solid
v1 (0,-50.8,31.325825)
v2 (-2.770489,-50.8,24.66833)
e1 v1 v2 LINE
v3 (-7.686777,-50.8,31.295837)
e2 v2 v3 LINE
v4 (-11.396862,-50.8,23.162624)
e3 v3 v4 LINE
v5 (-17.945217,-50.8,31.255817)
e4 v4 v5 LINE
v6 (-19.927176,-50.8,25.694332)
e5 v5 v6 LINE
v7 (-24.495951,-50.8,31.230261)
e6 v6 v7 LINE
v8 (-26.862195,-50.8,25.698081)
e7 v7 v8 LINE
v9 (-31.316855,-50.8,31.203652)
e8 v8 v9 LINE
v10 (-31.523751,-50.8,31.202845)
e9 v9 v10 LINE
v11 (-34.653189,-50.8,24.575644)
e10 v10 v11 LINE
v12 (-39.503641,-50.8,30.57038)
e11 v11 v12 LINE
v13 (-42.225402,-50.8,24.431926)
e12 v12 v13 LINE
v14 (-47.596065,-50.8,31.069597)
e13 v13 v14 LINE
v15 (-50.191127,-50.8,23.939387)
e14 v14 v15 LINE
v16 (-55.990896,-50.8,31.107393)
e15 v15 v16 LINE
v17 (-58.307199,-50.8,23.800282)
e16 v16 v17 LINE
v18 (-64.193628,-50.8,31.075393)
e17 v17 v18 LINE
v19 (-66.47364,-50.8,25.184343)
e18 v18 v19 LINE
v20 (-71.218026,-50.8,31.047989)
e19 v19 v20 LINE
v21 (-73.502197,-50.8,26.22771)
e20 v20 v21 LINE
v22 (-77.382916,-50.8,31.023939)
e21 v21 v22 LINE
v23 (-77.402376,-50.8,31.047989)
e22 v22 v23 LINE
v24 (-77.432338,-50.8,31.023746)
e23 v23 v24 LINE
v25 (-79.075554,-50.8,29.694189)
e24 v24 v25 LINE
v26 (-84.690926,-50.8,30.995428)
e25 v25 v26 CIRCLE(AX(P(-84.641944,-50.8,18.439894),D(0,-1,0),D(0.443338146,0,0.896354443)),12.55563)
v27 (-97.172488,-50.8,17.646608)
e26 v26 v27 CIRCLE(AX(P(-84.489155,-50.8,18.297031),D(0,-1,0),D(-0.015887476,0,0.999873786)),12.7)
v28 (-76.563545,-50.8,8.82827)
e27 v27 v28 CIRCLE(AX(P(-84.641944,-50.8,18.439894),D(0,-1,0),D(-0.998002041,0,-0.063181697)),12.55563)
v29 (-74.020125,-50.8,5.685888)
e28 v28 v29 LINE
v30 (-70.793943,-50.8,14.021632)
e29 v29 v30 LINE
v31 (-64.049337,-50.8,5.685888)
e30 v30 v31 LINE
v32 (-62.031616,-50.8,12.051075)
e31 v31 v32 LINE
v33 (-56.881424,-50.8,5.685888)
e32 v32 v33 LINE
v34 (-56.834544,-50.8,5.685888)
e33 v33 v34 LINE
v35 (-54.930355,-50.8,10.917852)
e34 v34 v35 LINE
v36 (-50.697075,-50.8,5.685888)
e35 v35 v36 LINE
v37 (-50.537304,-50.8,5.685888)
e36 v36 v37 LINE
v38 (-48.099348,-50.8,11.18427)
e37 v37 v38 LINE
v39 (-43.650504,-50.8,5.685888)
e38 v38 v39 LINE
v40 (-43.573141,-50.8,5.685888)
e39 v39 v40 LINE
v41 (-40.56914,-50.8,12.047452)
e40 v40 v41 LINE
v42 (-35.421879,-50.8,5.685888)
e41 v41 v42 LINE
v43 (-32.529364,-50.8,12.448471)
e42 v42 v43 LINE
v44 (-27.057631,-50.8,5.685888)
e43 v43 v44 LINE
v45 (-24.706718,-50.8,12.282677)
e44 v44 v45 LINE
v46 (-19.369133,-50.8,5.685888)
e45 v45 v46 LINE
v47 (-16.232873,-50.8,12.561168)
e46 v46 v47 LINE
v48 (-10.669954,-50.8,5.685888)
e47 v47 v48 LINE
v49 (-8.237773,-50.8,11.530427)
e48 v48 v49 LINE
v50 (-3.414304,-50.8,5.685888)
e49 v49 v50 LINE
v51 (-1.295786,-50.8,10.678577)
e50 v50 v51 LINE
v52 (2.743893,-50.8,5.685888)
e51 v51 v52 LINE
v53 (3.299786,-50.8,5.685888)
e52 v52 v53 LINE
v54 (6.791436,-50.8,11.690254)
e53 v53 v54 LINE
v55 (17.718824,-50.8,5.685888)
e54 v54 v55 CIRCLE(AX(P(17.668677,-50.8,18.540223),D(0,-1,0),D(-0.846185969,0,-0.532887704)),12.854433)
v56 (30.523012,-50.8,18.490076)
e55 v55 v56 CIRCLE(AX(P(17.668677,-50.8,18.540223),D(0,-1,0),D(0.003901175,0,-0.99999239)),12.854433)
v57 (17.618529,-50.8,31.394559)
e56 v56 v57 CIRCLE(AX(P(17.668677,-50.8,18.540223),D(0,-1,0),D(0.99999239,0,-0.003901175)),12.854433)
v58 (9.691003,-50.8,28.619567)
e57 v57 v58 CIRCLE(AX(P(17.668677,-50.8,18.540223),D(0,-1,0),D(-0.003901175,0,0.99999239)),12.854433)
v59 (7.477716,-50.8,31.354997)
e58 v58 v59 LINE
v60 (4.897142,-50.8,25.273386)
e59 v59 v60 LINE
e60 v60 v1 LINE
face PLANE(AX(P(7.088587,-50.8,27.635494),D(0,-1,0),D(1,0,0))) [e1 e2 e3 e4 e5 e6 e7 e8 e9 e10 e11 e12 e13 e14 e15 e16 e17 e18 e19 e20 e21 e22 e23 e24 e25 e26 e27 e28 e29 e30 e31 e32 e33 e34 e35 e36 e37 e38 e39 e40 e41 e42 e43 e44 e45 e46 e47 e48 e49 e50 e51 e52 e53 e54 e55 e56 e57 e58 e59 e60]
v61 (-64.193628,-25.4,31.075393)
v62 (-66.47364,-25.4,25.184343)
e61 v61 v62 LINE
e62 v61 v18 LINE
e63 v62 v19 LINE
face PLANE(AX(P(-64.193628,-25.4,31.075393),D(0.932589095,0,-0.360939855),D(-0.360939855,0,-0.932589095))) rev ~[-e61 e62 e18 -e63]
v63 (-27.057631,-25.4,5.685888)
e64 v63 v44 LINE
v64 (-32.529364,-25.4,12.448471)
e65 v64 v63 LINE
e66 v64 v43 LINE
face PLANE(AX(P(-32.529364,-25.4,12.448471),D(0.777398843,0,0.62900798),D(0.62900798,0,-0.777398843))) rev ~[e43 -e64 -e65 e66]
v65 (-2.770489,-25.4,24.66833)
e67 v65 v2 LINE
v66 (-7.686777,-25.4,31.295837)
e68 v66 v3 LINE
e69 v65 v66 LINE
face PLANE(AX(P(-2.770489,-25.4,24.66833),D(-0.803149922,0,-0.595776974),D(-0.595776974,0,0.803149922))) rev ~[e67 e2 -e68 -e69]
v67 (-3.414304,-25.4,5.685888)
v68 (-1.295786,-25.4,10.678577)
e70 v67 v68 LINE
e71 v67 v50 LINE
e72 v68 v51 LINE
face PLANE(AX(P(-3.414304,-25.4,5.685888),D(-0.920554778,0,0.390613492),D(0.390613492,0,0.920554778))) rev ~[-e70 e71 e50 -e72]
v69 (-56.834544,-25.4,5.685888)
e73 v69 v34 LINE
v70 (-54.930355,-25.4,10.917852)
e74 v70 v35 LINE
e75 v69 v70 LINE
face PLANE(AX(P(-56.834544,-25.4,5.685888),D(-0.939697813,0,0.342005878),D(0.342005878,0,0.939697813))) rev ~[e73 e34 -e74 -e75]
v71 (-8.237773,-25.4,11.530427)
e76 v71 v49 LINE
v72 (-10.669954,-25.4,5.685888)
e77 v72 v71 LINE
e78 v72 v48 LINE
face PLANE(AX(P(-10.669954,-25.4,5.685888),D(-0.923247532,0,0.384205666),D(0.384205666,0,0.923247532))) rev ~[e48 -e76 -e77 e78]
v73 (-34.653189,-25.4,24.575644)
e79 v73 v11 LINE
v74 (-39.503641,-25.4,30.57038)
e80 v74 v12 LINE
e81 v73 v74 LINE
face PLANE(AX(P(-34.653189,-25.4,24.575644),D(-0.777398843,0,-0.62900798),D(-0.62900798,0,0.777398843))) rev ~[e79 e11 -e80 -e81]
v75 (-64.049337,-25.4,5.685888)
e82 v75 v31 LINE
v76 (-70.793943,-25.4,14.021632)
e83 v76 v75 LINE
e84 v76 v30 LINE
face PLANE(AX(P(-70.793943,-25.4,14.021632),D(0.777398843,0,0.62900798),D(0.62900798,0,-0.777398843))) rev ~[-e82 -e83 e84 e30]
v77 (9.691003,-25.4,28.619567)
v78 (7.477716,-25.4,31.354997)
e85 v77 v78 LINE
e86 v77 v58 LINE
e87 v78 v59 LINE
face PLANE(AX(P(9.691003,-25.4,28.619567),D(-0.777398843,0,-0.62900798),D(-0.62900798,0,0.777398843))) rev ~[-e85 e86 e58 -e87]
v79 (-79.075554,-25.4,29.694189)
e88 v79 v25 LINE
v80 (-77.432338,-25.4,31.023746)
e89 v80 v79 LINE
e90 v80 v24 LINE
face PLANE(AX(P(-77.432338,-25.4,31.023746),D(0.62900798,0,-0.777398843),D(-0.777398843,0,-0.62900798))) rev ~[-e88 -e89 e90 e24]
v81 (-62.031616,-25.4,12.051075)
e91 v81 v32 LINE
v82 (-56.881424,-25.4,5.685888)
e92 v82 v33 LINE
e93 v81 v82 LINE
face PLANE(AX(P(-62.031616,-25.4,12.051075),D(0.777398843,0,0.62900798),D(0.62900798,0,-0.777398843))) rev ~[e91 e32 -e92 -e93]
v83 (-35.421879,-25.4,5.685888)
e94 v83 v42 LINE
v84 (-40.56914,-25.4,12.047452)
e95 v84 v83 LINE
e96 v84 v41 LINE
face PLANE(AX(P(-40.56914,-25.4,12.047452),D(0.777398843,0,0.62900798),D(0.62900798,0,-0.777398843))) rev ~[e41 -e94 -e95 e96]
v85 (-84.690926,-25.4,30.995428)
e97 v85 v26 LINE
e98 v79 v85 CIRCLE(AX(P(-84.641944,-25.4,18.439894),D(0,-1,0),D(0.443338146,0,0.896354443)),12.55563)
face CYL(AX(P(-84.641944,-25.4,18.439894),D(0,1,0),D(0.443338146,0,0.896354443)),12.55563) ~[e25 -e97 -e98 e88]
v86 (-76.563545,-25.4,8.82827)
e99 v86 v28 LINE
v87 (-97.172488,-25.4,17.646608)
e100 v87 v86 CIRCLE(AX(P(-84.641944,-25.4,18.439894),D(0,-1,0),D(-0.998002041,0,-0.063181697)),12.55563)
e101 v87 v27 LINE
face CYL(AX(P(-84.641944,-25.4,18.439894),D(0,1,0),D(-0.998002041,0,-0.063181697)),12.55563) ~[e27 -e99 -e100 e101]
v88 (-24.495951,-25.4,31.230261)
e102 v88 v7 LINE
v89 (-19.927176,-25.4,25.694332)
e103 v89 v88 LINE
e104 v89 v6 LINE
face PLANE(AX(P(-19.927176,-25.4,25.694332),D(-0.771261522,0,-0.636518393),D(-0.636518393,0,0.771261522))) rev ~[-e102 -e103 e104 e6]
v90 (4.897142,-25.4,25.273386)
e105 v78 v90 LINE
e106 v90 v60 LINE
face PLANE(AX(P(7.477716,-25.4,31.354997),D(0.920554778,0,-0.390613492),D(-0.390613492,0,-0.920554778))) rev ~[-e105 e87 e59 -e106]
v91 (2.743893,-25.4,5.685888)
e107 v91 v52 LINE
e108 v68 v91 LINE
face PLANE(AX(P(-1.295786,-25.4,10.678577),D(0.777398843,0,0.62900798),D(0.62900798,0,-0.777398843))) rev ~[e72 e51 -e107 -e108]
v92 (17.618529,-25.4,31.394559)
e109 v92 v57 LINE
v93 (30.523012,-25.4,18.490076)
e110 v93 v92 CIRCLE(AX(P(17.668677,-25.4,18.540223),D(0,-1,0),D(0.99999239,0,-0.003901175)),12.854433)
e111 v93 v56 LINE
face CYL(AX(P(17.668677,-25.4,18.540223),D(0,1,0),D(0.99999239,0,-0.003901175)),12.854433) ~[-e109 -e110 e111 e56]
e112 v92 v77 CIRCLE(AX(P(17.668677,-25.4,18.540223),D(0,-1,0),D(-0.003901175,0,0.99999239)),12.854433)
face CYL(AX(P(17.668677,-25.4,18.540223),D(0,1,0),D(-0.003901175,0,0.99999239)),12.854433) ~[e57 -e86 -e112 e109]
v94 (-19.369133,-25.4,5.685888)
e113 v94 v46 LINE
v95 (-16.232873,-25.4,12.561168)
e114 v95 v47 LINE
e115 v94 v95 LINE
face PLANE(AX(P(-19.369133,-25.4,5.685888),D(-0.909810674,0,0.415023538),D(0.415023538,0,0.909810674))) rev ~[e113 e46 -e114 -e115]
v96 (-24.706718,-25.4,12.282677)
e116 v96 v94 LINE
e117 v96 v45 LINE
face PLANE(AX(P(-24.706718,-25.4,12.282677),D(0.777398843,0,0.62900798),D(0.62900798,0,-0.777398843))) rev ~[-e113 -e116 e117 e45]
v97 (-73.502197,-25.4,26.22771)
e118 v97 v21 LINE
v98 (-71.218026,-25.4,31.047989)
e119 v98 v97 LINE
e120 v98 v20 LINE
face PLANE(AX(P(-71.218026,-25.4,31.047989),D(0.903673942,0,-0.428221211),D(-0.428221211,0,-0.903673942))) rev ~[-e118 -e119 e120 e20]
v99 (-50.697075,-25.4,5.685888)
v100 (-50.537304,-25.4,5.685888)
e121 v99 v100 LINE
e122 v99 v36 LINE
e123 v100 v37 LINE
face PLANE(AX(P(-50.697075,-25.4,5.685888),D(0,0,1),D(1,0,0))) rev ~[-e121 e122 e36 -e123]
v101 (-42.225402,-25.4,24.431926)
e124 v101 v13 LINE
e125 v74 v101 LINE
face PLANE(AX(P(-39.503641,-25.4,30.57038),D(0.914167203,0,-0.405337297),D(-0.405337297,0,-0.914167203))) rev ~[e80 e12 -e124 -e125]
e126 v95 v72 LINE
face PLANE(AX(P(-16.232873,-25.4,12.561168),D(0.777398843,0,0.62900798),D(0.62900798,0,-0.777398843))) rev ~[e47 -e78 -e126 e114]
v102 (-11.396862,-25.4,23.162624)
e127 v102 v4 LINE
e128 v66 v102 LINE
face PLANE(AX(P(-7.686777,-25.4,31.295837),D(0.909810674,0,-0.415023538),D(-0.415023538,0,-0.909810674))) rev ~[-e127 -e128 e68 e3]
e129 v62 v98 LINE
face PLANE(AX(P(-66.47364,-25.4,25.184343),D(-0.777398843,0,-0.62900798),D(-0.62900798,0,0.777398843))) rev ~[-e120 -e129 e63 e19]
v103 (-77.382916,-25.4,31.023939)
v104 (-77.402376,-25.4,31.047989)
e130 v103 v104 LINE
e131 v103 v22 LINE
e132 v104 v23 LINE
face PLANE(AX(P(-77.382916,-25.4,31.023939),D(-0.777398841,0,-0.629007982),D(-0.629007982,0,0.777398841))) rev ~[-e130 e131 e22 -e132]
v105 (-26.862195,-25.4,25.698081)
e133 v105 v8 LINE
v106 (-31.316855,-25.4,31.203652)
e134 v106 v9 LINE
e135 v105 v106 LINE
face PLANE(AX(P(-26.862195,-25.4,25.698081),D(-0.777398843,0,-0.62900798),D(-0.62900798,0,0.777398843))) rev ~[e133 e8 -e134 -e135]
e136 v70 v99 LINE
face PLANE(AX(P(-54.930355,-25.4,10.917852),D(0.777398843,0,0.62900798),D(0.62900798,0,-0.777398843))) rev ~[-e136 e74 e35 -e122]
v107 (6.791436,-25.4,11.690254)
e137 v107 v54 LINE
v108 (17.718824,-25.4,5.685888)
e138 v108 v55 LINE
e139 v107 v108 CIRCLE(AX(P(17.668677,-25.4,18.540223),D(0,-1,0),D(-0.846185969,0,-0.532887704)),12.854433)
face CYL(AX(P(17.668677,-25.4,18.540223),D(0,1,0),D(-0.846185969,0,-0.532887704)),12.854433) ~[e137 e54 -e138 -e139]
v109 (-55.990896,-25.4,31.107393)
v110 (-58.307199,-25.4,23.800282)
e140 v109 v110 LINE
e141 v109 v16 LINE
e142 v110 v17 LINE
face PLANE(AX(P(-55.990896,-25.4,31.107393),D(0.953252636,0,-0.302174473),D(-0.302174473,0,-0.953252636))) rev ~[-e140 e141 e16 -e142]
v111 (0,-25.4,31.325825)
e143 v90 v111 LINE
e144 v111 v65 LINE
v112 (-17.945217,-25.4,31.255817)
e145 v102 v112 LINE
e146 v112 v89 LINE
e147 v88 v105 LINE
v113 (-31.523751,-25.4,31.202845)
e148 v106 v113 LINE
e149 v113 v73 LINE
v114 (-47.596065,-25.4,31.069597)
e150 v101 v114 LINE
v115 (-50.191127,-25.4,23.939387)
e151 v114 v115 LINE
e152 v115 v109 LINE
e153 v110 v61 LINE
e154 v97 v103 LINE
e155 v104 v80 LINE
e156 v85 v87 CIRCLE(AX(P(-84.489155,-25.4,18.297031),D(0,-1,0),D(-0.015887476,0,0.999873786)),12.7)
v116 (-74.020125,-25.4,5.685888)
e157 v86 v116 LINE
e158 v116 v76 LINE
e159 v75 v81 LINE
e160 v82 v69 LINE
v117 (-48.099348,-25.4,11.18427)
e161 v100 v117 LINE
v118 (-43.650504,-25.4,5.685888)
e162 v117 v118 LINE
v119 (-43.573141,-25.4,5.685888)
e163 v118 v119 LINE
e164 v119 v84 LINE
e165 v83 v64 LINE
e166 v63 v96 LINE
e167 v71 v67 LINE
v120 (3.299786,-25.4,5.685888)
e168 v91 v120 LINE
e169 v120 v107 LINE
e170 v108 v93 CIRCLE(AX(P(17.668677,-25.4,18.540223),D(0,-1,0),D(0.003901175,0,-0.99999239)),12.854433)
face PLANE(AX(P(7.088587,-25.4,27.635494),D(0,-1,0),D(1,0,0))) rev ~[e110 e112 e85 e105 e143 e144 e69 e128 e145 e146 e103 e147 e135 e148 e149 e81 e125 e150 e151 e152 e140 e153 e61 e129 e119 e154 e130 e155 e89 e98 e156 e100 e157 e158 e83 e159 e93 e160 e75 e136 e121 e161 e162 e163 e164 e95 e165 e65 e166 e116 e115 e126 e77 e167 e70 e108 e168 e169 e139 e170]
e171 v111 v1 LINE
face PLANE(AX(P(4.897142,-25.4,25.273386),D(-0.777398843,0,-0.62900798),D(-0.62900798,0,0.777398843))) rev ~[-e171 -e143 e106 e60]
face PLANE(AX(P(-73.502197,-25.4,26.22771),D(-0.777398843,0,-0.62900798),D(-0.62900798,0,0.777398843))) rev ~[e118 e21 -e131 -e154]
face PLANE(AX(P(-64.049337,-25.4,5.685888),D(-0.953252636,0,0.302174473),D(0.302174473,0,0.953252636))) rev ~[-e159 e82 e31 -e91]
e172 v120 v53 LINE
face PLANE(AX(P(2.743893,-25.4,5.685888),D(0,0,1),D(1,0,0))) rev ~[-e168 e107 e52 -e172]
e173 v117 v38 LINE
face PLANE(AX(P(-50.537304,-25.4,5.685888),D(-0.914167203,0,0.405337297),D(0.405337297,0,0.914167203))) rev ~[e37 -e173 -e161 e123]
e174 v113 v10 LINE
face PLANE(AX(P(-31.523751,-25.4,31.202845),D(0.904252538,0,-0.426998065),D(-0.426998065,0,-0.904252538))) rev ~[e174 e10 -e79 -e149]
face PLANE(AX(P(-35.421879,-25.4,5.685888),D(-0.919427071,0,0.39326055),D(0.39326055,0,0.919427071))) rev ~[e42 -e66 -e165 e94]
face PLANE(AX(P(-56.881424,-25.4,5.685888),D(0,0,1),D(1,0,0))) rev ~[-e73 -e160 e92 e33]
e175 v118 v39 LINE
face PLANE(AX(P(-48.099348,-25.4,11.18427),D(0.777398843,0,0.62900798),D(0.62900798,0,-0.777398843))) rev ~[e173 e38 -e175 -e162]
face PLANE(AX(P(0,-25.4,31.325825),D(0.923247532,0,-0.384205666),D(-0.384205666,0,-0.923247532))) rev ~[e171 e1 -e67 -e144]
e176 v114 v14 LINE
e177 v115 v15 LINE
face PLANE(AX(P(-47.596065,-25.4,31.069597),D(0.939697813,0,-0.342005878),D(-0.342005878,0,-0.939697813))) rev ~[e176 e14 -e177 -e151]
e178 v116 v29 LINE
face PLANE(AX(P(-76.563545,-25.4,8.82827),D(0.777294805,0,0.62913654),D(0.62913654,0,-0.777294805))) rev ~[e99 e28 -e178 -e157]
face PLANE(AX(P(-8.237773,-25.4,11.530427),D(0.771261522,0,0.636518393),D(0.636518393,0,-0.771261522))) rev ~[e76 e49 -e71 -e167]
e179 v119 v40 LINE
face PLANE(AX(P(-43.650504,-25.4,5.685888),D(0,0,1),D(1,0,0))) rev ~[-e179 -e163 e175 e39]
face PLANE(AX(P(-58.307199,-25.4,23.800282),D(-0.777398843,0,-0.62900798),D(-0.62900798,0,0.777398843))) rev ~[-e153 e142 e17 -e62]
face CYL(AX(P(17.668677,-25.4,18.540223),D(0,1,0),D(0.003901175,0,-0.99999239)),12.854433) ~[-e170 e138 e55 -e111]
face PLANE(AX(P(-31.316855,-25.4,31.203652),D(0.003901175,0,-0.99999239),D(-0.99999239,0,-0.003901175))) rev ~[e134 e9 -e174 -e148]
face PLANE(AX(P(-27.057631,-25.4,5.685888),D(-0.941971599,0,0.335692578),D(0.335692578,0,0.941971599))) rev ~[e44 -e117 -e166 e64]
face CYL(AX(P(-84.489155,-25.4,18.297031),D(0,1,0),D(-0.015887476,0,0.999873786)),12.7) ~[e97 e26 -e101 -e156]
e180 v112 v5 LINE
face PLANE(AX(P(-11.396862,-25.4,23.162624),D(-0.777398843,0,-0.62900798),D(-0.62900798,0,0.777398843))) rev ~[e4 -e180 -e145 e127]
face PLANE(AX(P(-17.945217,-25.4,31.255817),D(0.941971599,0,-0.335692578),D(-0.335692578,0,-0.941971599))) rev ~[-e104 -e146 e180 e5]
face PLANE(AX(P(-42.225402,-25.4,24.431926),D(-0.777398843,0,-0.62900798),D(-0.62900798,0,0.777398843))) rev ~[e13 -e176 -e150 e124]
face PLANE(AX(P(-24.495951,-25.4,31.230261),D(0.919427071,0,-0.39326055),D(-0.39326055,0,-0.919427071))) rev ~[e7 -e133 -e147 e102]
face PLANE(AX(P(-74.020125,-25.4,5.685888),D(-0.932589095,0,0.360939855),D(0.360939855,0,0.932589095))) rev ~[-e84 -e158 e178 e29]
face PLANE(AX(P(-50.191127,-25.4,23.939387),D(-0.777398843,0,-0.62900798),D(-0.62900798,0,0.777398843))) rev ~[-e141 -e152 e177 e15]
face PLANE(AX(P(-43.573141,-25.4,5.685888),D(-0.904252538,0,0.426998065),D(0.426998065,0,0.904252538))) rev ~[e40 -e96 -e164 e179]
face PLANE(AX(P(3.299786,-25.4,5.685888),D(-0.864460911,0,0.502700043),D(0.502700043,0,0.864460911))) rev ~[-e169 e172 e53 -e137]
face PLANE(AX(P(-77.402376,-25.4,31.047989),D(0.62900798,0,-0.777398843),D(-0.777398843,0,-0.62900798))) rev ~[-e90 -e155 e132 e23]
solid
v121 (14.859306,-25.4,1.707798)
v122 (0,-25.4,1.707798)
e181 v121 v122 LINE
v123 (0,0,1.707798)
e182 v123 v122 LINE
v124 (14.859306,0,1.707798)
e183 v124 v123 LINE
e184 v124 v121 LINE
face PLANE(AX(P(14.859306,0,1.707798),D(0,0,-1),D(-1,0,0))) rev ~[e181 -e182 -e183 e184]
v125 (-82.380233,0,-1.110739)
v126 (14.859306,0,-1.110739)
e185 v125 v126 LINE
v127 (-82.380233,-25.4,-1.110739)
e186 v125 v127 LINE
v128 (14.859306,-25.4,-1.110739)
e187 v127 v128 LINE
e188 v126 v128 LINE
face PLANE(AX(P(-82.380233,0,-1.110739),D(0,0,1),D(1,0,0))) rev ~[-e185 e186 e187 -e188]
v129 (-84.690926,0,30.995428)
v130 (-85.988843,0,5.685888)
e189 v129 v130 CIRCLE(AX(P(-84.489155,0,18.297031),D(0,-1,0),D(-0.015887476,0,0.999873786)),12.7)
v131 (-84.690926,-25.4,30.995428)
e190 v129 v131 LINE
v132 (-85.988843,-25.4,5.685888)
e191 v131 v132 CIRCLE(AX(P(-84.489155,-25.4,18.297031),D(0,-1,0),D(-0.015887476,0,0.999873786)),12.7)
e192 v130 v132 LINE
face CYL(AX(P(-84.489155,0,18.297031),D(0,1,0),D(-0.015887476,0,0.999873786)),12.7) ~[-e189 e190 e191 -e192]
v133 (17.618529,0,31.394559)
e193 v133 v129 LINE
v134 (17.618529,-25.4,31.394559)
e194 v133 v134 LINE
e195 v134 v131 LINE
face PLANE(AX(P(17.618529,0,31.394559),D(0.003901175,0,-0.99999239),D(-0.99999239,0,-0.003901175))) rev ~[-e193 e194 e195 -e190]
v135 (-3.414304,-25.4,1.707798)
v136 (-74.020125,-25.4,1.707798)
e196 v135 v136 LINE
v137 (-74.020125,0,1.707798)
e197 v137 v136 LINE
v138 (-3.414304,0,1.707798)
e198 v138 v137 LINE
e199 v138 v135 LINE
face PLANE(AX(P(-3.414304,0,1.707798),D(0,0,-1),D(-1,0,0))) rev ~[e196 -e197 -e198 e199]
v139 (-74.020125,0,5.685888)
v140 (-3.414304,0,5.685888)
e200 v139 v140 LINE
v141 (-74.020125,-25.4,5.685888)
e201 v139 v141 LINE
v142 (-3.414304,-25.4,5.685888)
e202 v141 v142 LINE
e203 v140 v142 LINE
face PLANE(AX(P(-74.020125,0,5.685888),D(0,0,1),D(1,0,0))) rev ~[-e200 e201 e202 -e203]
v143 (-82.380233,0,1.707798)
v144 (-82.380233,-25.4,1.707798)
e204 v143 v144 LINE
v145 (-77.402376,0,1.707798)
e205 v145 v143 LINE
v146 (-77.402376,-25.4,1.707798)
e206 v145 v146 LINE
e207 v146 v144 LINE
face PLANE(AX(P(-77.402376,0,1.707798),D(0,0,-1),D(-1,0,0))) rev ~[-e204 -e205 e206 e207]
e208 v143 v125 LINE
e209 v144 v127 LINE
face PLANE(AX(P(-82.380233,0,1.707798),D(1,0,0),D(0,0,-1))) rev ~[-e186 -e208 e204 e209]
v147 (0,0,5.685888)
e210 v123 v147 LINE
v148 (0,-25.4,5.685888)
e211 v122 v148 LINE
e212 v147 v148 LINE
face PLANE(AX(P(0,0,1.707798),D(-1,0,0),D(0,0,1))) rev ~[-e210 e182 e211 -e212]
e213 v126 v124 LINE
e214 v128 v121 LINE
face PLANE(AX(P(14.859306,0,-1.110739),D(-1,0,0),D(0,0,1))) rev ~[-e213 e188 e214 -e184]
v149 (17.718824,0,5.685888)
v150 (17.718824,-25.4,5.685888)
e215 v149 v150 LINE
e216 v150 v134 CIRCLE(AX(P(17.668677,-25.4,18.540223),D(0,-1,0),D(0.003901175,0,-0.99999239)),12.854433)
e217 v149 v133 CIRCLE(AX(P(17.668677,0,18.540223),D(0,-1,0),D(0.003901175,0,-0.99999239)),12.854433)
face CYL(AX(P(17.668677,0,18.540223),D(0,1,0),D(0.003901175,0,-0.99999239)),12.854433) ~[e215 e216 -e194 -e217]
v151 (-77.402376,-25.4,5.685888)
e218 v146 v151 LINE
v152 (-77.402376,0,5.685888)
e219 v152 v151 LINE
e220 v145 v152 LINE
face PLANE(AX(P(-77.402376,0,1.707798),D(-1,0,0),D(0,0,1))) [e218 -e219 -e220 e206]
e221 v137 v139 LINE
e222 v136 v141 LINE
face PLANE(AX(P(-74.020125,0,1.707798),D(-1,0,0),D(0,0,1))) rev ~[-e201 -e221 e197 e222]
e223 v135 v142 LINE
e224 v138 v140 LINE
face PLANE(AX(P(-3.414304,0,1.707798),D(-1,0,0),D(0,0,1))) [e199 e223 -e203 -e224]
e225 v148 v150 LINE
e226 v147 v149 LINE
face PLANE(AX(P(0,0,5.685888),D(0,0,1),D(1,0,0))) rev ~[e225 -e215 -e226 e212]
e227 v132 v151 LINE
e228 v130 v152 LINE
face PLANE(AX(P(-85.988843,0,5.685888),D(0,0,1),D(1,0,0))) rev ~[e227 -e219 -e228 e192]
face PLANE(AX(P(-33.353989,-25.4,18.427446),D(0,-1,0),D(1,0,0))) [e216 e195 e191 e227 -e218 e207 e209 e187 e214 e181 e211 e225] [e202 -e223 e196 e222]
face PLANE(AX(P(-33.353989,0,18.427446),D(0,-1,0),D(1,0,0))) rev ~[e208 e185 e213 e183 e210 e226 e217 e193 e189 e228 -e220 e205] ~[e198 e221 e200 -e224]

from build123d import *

# Parameters (mm, degrees)
F0_W     = 3.3822506666
F0_H     = 3.9780900193
F0_W_2   = 3.41430353
F1_DEPTH = 25.4
F3_DEPTH = 25.4


with BuildPart() as f1:
    # F0 (on Front) → F1 (new body)
    with BuildSketch(Plane.XZ):
        with BuildLine():
            Line((17.6185293709, 31.3945586435), (-84.690925819, 30.9954284879))
            ThreePointArc((-84.690925819, 30.9954284879), (-97.1724884118, 18.9474547222), (-85.9888429003, 5.6858880844))
            Line((-85.9888429003, 5.6858880844), (-77.4023757015, 5.6858880844))
            Line((-77.4023757015, 5.6858880844), (-74.0201250348, 5.6858880844))
            Line((-74.0201250348, 5.6858880844), (-3.41430353, 5.6858880844))
            Line((-3.41430353, 5.6858880844), (0, 5.6858880844))
            Line((0, 5.6858880844), (17.7188241644, 5.6858880844))
            ThreePointArc((17.7188241644, 5.6858880844), (30.5230120472, 18.5903707607), (17.6185293709, 31.3945586435))
        make_face()
        Polygon((-74.0201250348, 1.7077980651), (-77.4023757015, 1.7077980651), (-82.3802331347, 1.7077980651), (-82.3802331347, -1.1107394616), (14.8593058926, -1.1107394616), (14.8593058926, 1.7077980651), (0, 1.7077980651), (-3.41430353, 1.7077980651), align=None)
        with Locations((-75.7112503681, 3.6968430748)):
            Rectangle(F0_W, F0_H)
        with Locations((-1.707151765, 3.6968430748)):
            Rectangle(F0_W_2, F0_H)
    extrude(amount=F1_DEPTH)


with BuildPart() as f3:
    # F2 (on face) → F3 (new body)
    with BuildSketch(Plane.XZ.offset(25.4)):
        with BuildLine():
            Line((7.4777157191, 31.3549972508), (4.8971420417, 25.2733859425))
            Line((4.8971420417, 25.2733859425), (5.9934429038, 23.9184539713))
            ThreePointArc((5.9934429038, 23.9184539713), (7.5649987966, 26.4870555439), (9.6910032973, 28.6195674022))
            Line((9.6910032973, 28.6195674022), (7.4777157191, 31.3549972508))
        make_face()
        with BuildLine():
            Line((-70.7939430509, 14.0216318164), (-72.3393960707, 15.9316765669))
            ThreePointArc((-72.3393960707, 15.9316765669), (-73.8502646914, 12.0224570054), (-76.5635452821, 8.8282700972))
            Line((-76.5635452821, 8.8282700972), (-74.0201250348, 5.6858880844))
            Line((-74.0201250348, 5.6858880844), (-70.7939430509, 14.0216318164))
        make_face()
        Polygon((-71.2180261518, 31.0479890311), (-73.502197242, 26.227709607), (-68.4746691883, 20.0141246946), (-66.473640178, 25.1843429628), align=None)
        Polygon((-64.1936278631, 31.0753926486), (-66.473640178, 25.1843429628), (-60.2907627098, 17.5428472334), (-58.3071993355, 23.8002818794), align=None)
        Polygon((-66.473640178, 25.1843429628), (-68.4746691883, 20.0141246946), (-62.0316164015, 12.0510750292), (-60.2907627098, 17.5428472334), align=None)
        Polygon((-58.3071993355, 23.8002818794), (-60.2907627098, 17.5428472334), (-54.9303545076, 10.9178515748), (-52.7441106652, 16.9247908908), align=None)
        Polygon((-55.990895741, 31.107393188), (-58.3071993355, 23.8002818794), (-52.7441106652, 16.9247908908), (-50.1911272132, 23.9393865981), align=None)
        Polygon((-50.1911272132, 23.9393865981), (-52.7441106652, 16.9247908908), (-48.0993479846, 11.1842704987), (-45.186380638, 17.7539576005), align=None)
        Polygon((-47.596065493, 31.0695968577), (-50.1911272132, 23.9393865981), (-45.186380638, 17.7539576005), (-42.2254017695, 24.4319262718), align=None)
        Polygon((-42.2254017695, 24.4319262718), (-45.186380638, 17.7539576005), (-40.5691399293, 12.0474519584), (-37.4866464693, 18.5752392237), align=None)
        Polygon((-37.4866464693, 18.5752392237), (-40.5691399293, 12.0474519584), (-35.4218793232, 5.6858880844), (-32.5293636679, 12.4484712987), align=None)
        Polygon((-39.5036414146, 30.5703795293), (-42.2254017695, 24.4319262718), (-37.4866464693, 18.5752392237), (-34.6531887292, 24.5756442832), align=None)
        Polygon((-34.6531887292, 24.5756442832), (-37.4866464693, 18.5752392237), (-32.5293636679, 12.4484712987), (-29.8705353594, 18.6647030608), align=None)
        Polygon((-27.0576307947, 5.6858880844), (-24.7067181319, 12.2826766509), (-29.8705353594, 18.6647030608), (-32.5293636679, 12.4484712987), align=None)
        Polygon((-24.7067181319, 12.2826766509), (-22.0467696405, 19.7466365302), (-26.8621946159, 25.6980805906), (-29.8705353594, 18.6647030608), align=None)
        Polygon((-22.0467696405, 19.7466365302), (-19.9271756152, 25.6943324413), (-24.4959509544, 31.2302614233), (-26.8621946159, 25.6980805906), align=None)
        Polygon((-16.2328725231, 12.5611682395), (-13.6896492255, 18.1363983006), (-19.9271756152, 25.6943324413), (-22.0467696405, 19.7466365302), align=None)
        Polygon((-10.6699544422, 5.6858880844), (-8.2377734431, 11.5304273544), (-13.6896492255, 18.1363983006), (-16.2328725231, 12.5611682395), align=None)
        Polygon((-19.9271756152, 25.6943324413), (-13.6896492255, 18.1363983006), (-11.3968622992, 23.1626241166), (-17.9452165503, 31.2558171809), align=None)
        Polygon((-13.6896492255, 18.1363983006), (-8.2377734431, 11.5304273544), (-6.1141082191, 16.6336021603), (-11.3968622992, 23.1626241166), align=None)
        Polygon((-8.2377734431, 11.5304273544), (-3.41430353, 5.6858880844), (-1.2957857458, 10.678577046), (-6.1141082191, 16.6336021603), align=None)
        Polygon((-11.3968622992, 23.1626241166), (-6.1141082191, 16.6336021603), (-2.7704892434, 24.6683300094), (-7.6867772585, 31.2958374553), align=None)
        Polygon((-2.7704892434, 24.6683300094), (1.9437611458, 18.3131837161), (4.8971420417, 25.2733859425), (0, 31.325825149), align=None)
        Polygon((-68.4746691883, 20.0141246946), (-70.7939430509, 14.0216318164), (-64.049336507, 5.6858880844), (-62.0316164015, 12.0510750292), align=None)
        with BuildLine():
            ThreePointArc((-74.0201250348, 25.134728134), (-72.2906003999, 20.6955873172), (-72.3393960707, 15.9316765669))
            Line((-72.3393960707, 15.9316765669), (-70.7939430509, 14.0216318164))
            Line((-70.7939430509, 14.0216318164), (-68.4746691883, 20.0141246946))
            Line((-68.4746691883, 20.0141246946), (-73.502197242, 26.227709607))
            Line((-73.502197242, 26.227709607), (-74.0201250348, 25.134728134))
        make_face()
        Polygon((-77.4023757015, 31.0479890311), (-77.4323383065, 31.0237457256), (-77.3829159918, 31.0239385322), align=None)
        with BuildLine():
            Line((4.8971420417, 25.2733859425), (1.9437611458, 18.3131837161))
            Line((1.9437611458, 18.3131837161), (6.5135129633, 12.1528318198))
            ThreePointArc((6.5135129633, 12.1528318198), (6.6500466739, 11.9200843098), (6.7914358382, 11.6902540208))
            ThreePointArc((6.7914358382, 11.6902540208), (11.4783947736, 7.2744850804), (17.7188241644, 5.6858880844))
            ThreePointArc((17.7188241644, 5.6858880844), (26.7581335787, 9.4507665529), (30.5230120472, 18.4900759672))
            ThreePointArc((30.5230120472, 18.4900759672), (26.7581335787, 27.629680175), (17.6185293709, 31.3945586435))
            ThreePointArc((17.6185293709, 31.3945586435), (13.4217224395, 30.6728170345), (9.6910032973, 28.6195674022))
            ThreePointArc((9.6910032973, 28.6195674022), (7.5649987966, 26.4870555439), (5.9934429038, 23.9184539713))
            Line((5.9934429038, 23.9184539713), (4.8971420417, 25.2733859425))
        make_face()
        with BuildLine():
            ThreePointArc((-79.0755543994, 29.6941887755), (-76.2329194186, 27.7636351337), (-74.0201250348, 25.134728134))
            Line((-74.0201250348, 25.134728134), (-73.502197242, 26.227709607))
            Line((-73.502197242, 26.227709607), (-77.3829159918, 31.0239385322))
            Line((-77.3829159918, 31.0239385322), (-77.4323383065, 31.0237457256))
            Line((-77.4323383065, 31.0237457256), (-79.0755543994, 29.6941887755))
        make_face()
        with BuildLine():
            ThreePointArc((-76.5635452821, 8.8282700972), (-73.8502646914, 12.0224570054), (-72.3393960707, 15.9316765669))
            ThreePointArc((-72.3393960707, 15.9316765669), (-72.2906003999, 20.6955873172), (-74.0201250348, 25.134728134))
            ThreePointArc((-74.0201250348, 25.134728134), (-76.2329194186, 27.7636351337), (-79.0755543994, 29.6941887755))
            ThreePointArc((-79.0755543994, 29.6941887755), (-81.8075563521, 30.6714144079), (-84.690925819, 30.9954284879))
            ThreePointArc((-84.690925819, 30.9954284879), (-93.7656968448, 26.9708868998), (-97.1724884118, 17.6466080867))
            ThreePointArc((-97.1724884118, 17.6466080867), (-89.5811921329, 6.8965985351), (-76.5635452821, 8.8282700972))
        make_face()
        Polygon((-60.2907627098, 17.5428472334), (-62.0316164015, 12.0510750292), (-56.8814243009, 5.6858880844), (-56.83454354, 5.6858880844), (-54.9303545076, 10.9178515748), align=None)
        Polygon((-52.7441106652, 16.9247908908), (-54.9303545076, 10.9178515748), (-50.6970747512, 5.6858880844), (-50.537304037, 5.6858880844), (-48.0993479846, 11.1842704987), align=None)
        Polygon((-45.186380638, 17.7539576005), (-48.0993479846, 11.1842704987), (-43.6505036817, 5.6858880844), (-43.5731408625, 5.6858880844), (-40.5691399293, 12.0474519584), align=None)
        with BuildLine():
            Line((1.9437611458, 18.3131837161), (-1.2957857458, 10.678577046))
            Line((-1.2957857458, 10.678577046), (2.743892503, 5.6858880844))
            Line((2.743892503, 5.6858880844), (3.2997857527, 5.6858880844))
            Line((3.2997857527, 5.6858880844), (6.7914358382, 11.6902540208))
            ThreePointArc((6.7914358382, 11.6902540208), (6.6500466739, 11.9200843098), (6.5135129633, 12.1528318198))
            Line((6.5135129633, 12.1528318198), (1.9437611458, 18.3131837161))
        make_face()
        Polygon((-6.1141082191, 16.6336021603), (-1.2957857458, 10.678577046), (1.9437611458, 18.3131837161), (-2.7704892434, 24.6683300094), align=None)
        Polygon((-19.3691328168, 5.6858880844), (-16.2328725231, 12.5611682395), (-22.0467696405, 19.7466365302), (-24.7067181319, 12.2826766509), align=None)
        Polygon((-29.8705353594, 18.6647030608), (-26.8621946159, 25.6980805906), (-31.3168554081, 31.2036516769), (-31.5237513565, 31.2028445334), (-34.6531887292, 24.5756442832), align=None)
    extrude(amount=F3_DEPTH)


solid = Compound([f1.part, f3.part])
